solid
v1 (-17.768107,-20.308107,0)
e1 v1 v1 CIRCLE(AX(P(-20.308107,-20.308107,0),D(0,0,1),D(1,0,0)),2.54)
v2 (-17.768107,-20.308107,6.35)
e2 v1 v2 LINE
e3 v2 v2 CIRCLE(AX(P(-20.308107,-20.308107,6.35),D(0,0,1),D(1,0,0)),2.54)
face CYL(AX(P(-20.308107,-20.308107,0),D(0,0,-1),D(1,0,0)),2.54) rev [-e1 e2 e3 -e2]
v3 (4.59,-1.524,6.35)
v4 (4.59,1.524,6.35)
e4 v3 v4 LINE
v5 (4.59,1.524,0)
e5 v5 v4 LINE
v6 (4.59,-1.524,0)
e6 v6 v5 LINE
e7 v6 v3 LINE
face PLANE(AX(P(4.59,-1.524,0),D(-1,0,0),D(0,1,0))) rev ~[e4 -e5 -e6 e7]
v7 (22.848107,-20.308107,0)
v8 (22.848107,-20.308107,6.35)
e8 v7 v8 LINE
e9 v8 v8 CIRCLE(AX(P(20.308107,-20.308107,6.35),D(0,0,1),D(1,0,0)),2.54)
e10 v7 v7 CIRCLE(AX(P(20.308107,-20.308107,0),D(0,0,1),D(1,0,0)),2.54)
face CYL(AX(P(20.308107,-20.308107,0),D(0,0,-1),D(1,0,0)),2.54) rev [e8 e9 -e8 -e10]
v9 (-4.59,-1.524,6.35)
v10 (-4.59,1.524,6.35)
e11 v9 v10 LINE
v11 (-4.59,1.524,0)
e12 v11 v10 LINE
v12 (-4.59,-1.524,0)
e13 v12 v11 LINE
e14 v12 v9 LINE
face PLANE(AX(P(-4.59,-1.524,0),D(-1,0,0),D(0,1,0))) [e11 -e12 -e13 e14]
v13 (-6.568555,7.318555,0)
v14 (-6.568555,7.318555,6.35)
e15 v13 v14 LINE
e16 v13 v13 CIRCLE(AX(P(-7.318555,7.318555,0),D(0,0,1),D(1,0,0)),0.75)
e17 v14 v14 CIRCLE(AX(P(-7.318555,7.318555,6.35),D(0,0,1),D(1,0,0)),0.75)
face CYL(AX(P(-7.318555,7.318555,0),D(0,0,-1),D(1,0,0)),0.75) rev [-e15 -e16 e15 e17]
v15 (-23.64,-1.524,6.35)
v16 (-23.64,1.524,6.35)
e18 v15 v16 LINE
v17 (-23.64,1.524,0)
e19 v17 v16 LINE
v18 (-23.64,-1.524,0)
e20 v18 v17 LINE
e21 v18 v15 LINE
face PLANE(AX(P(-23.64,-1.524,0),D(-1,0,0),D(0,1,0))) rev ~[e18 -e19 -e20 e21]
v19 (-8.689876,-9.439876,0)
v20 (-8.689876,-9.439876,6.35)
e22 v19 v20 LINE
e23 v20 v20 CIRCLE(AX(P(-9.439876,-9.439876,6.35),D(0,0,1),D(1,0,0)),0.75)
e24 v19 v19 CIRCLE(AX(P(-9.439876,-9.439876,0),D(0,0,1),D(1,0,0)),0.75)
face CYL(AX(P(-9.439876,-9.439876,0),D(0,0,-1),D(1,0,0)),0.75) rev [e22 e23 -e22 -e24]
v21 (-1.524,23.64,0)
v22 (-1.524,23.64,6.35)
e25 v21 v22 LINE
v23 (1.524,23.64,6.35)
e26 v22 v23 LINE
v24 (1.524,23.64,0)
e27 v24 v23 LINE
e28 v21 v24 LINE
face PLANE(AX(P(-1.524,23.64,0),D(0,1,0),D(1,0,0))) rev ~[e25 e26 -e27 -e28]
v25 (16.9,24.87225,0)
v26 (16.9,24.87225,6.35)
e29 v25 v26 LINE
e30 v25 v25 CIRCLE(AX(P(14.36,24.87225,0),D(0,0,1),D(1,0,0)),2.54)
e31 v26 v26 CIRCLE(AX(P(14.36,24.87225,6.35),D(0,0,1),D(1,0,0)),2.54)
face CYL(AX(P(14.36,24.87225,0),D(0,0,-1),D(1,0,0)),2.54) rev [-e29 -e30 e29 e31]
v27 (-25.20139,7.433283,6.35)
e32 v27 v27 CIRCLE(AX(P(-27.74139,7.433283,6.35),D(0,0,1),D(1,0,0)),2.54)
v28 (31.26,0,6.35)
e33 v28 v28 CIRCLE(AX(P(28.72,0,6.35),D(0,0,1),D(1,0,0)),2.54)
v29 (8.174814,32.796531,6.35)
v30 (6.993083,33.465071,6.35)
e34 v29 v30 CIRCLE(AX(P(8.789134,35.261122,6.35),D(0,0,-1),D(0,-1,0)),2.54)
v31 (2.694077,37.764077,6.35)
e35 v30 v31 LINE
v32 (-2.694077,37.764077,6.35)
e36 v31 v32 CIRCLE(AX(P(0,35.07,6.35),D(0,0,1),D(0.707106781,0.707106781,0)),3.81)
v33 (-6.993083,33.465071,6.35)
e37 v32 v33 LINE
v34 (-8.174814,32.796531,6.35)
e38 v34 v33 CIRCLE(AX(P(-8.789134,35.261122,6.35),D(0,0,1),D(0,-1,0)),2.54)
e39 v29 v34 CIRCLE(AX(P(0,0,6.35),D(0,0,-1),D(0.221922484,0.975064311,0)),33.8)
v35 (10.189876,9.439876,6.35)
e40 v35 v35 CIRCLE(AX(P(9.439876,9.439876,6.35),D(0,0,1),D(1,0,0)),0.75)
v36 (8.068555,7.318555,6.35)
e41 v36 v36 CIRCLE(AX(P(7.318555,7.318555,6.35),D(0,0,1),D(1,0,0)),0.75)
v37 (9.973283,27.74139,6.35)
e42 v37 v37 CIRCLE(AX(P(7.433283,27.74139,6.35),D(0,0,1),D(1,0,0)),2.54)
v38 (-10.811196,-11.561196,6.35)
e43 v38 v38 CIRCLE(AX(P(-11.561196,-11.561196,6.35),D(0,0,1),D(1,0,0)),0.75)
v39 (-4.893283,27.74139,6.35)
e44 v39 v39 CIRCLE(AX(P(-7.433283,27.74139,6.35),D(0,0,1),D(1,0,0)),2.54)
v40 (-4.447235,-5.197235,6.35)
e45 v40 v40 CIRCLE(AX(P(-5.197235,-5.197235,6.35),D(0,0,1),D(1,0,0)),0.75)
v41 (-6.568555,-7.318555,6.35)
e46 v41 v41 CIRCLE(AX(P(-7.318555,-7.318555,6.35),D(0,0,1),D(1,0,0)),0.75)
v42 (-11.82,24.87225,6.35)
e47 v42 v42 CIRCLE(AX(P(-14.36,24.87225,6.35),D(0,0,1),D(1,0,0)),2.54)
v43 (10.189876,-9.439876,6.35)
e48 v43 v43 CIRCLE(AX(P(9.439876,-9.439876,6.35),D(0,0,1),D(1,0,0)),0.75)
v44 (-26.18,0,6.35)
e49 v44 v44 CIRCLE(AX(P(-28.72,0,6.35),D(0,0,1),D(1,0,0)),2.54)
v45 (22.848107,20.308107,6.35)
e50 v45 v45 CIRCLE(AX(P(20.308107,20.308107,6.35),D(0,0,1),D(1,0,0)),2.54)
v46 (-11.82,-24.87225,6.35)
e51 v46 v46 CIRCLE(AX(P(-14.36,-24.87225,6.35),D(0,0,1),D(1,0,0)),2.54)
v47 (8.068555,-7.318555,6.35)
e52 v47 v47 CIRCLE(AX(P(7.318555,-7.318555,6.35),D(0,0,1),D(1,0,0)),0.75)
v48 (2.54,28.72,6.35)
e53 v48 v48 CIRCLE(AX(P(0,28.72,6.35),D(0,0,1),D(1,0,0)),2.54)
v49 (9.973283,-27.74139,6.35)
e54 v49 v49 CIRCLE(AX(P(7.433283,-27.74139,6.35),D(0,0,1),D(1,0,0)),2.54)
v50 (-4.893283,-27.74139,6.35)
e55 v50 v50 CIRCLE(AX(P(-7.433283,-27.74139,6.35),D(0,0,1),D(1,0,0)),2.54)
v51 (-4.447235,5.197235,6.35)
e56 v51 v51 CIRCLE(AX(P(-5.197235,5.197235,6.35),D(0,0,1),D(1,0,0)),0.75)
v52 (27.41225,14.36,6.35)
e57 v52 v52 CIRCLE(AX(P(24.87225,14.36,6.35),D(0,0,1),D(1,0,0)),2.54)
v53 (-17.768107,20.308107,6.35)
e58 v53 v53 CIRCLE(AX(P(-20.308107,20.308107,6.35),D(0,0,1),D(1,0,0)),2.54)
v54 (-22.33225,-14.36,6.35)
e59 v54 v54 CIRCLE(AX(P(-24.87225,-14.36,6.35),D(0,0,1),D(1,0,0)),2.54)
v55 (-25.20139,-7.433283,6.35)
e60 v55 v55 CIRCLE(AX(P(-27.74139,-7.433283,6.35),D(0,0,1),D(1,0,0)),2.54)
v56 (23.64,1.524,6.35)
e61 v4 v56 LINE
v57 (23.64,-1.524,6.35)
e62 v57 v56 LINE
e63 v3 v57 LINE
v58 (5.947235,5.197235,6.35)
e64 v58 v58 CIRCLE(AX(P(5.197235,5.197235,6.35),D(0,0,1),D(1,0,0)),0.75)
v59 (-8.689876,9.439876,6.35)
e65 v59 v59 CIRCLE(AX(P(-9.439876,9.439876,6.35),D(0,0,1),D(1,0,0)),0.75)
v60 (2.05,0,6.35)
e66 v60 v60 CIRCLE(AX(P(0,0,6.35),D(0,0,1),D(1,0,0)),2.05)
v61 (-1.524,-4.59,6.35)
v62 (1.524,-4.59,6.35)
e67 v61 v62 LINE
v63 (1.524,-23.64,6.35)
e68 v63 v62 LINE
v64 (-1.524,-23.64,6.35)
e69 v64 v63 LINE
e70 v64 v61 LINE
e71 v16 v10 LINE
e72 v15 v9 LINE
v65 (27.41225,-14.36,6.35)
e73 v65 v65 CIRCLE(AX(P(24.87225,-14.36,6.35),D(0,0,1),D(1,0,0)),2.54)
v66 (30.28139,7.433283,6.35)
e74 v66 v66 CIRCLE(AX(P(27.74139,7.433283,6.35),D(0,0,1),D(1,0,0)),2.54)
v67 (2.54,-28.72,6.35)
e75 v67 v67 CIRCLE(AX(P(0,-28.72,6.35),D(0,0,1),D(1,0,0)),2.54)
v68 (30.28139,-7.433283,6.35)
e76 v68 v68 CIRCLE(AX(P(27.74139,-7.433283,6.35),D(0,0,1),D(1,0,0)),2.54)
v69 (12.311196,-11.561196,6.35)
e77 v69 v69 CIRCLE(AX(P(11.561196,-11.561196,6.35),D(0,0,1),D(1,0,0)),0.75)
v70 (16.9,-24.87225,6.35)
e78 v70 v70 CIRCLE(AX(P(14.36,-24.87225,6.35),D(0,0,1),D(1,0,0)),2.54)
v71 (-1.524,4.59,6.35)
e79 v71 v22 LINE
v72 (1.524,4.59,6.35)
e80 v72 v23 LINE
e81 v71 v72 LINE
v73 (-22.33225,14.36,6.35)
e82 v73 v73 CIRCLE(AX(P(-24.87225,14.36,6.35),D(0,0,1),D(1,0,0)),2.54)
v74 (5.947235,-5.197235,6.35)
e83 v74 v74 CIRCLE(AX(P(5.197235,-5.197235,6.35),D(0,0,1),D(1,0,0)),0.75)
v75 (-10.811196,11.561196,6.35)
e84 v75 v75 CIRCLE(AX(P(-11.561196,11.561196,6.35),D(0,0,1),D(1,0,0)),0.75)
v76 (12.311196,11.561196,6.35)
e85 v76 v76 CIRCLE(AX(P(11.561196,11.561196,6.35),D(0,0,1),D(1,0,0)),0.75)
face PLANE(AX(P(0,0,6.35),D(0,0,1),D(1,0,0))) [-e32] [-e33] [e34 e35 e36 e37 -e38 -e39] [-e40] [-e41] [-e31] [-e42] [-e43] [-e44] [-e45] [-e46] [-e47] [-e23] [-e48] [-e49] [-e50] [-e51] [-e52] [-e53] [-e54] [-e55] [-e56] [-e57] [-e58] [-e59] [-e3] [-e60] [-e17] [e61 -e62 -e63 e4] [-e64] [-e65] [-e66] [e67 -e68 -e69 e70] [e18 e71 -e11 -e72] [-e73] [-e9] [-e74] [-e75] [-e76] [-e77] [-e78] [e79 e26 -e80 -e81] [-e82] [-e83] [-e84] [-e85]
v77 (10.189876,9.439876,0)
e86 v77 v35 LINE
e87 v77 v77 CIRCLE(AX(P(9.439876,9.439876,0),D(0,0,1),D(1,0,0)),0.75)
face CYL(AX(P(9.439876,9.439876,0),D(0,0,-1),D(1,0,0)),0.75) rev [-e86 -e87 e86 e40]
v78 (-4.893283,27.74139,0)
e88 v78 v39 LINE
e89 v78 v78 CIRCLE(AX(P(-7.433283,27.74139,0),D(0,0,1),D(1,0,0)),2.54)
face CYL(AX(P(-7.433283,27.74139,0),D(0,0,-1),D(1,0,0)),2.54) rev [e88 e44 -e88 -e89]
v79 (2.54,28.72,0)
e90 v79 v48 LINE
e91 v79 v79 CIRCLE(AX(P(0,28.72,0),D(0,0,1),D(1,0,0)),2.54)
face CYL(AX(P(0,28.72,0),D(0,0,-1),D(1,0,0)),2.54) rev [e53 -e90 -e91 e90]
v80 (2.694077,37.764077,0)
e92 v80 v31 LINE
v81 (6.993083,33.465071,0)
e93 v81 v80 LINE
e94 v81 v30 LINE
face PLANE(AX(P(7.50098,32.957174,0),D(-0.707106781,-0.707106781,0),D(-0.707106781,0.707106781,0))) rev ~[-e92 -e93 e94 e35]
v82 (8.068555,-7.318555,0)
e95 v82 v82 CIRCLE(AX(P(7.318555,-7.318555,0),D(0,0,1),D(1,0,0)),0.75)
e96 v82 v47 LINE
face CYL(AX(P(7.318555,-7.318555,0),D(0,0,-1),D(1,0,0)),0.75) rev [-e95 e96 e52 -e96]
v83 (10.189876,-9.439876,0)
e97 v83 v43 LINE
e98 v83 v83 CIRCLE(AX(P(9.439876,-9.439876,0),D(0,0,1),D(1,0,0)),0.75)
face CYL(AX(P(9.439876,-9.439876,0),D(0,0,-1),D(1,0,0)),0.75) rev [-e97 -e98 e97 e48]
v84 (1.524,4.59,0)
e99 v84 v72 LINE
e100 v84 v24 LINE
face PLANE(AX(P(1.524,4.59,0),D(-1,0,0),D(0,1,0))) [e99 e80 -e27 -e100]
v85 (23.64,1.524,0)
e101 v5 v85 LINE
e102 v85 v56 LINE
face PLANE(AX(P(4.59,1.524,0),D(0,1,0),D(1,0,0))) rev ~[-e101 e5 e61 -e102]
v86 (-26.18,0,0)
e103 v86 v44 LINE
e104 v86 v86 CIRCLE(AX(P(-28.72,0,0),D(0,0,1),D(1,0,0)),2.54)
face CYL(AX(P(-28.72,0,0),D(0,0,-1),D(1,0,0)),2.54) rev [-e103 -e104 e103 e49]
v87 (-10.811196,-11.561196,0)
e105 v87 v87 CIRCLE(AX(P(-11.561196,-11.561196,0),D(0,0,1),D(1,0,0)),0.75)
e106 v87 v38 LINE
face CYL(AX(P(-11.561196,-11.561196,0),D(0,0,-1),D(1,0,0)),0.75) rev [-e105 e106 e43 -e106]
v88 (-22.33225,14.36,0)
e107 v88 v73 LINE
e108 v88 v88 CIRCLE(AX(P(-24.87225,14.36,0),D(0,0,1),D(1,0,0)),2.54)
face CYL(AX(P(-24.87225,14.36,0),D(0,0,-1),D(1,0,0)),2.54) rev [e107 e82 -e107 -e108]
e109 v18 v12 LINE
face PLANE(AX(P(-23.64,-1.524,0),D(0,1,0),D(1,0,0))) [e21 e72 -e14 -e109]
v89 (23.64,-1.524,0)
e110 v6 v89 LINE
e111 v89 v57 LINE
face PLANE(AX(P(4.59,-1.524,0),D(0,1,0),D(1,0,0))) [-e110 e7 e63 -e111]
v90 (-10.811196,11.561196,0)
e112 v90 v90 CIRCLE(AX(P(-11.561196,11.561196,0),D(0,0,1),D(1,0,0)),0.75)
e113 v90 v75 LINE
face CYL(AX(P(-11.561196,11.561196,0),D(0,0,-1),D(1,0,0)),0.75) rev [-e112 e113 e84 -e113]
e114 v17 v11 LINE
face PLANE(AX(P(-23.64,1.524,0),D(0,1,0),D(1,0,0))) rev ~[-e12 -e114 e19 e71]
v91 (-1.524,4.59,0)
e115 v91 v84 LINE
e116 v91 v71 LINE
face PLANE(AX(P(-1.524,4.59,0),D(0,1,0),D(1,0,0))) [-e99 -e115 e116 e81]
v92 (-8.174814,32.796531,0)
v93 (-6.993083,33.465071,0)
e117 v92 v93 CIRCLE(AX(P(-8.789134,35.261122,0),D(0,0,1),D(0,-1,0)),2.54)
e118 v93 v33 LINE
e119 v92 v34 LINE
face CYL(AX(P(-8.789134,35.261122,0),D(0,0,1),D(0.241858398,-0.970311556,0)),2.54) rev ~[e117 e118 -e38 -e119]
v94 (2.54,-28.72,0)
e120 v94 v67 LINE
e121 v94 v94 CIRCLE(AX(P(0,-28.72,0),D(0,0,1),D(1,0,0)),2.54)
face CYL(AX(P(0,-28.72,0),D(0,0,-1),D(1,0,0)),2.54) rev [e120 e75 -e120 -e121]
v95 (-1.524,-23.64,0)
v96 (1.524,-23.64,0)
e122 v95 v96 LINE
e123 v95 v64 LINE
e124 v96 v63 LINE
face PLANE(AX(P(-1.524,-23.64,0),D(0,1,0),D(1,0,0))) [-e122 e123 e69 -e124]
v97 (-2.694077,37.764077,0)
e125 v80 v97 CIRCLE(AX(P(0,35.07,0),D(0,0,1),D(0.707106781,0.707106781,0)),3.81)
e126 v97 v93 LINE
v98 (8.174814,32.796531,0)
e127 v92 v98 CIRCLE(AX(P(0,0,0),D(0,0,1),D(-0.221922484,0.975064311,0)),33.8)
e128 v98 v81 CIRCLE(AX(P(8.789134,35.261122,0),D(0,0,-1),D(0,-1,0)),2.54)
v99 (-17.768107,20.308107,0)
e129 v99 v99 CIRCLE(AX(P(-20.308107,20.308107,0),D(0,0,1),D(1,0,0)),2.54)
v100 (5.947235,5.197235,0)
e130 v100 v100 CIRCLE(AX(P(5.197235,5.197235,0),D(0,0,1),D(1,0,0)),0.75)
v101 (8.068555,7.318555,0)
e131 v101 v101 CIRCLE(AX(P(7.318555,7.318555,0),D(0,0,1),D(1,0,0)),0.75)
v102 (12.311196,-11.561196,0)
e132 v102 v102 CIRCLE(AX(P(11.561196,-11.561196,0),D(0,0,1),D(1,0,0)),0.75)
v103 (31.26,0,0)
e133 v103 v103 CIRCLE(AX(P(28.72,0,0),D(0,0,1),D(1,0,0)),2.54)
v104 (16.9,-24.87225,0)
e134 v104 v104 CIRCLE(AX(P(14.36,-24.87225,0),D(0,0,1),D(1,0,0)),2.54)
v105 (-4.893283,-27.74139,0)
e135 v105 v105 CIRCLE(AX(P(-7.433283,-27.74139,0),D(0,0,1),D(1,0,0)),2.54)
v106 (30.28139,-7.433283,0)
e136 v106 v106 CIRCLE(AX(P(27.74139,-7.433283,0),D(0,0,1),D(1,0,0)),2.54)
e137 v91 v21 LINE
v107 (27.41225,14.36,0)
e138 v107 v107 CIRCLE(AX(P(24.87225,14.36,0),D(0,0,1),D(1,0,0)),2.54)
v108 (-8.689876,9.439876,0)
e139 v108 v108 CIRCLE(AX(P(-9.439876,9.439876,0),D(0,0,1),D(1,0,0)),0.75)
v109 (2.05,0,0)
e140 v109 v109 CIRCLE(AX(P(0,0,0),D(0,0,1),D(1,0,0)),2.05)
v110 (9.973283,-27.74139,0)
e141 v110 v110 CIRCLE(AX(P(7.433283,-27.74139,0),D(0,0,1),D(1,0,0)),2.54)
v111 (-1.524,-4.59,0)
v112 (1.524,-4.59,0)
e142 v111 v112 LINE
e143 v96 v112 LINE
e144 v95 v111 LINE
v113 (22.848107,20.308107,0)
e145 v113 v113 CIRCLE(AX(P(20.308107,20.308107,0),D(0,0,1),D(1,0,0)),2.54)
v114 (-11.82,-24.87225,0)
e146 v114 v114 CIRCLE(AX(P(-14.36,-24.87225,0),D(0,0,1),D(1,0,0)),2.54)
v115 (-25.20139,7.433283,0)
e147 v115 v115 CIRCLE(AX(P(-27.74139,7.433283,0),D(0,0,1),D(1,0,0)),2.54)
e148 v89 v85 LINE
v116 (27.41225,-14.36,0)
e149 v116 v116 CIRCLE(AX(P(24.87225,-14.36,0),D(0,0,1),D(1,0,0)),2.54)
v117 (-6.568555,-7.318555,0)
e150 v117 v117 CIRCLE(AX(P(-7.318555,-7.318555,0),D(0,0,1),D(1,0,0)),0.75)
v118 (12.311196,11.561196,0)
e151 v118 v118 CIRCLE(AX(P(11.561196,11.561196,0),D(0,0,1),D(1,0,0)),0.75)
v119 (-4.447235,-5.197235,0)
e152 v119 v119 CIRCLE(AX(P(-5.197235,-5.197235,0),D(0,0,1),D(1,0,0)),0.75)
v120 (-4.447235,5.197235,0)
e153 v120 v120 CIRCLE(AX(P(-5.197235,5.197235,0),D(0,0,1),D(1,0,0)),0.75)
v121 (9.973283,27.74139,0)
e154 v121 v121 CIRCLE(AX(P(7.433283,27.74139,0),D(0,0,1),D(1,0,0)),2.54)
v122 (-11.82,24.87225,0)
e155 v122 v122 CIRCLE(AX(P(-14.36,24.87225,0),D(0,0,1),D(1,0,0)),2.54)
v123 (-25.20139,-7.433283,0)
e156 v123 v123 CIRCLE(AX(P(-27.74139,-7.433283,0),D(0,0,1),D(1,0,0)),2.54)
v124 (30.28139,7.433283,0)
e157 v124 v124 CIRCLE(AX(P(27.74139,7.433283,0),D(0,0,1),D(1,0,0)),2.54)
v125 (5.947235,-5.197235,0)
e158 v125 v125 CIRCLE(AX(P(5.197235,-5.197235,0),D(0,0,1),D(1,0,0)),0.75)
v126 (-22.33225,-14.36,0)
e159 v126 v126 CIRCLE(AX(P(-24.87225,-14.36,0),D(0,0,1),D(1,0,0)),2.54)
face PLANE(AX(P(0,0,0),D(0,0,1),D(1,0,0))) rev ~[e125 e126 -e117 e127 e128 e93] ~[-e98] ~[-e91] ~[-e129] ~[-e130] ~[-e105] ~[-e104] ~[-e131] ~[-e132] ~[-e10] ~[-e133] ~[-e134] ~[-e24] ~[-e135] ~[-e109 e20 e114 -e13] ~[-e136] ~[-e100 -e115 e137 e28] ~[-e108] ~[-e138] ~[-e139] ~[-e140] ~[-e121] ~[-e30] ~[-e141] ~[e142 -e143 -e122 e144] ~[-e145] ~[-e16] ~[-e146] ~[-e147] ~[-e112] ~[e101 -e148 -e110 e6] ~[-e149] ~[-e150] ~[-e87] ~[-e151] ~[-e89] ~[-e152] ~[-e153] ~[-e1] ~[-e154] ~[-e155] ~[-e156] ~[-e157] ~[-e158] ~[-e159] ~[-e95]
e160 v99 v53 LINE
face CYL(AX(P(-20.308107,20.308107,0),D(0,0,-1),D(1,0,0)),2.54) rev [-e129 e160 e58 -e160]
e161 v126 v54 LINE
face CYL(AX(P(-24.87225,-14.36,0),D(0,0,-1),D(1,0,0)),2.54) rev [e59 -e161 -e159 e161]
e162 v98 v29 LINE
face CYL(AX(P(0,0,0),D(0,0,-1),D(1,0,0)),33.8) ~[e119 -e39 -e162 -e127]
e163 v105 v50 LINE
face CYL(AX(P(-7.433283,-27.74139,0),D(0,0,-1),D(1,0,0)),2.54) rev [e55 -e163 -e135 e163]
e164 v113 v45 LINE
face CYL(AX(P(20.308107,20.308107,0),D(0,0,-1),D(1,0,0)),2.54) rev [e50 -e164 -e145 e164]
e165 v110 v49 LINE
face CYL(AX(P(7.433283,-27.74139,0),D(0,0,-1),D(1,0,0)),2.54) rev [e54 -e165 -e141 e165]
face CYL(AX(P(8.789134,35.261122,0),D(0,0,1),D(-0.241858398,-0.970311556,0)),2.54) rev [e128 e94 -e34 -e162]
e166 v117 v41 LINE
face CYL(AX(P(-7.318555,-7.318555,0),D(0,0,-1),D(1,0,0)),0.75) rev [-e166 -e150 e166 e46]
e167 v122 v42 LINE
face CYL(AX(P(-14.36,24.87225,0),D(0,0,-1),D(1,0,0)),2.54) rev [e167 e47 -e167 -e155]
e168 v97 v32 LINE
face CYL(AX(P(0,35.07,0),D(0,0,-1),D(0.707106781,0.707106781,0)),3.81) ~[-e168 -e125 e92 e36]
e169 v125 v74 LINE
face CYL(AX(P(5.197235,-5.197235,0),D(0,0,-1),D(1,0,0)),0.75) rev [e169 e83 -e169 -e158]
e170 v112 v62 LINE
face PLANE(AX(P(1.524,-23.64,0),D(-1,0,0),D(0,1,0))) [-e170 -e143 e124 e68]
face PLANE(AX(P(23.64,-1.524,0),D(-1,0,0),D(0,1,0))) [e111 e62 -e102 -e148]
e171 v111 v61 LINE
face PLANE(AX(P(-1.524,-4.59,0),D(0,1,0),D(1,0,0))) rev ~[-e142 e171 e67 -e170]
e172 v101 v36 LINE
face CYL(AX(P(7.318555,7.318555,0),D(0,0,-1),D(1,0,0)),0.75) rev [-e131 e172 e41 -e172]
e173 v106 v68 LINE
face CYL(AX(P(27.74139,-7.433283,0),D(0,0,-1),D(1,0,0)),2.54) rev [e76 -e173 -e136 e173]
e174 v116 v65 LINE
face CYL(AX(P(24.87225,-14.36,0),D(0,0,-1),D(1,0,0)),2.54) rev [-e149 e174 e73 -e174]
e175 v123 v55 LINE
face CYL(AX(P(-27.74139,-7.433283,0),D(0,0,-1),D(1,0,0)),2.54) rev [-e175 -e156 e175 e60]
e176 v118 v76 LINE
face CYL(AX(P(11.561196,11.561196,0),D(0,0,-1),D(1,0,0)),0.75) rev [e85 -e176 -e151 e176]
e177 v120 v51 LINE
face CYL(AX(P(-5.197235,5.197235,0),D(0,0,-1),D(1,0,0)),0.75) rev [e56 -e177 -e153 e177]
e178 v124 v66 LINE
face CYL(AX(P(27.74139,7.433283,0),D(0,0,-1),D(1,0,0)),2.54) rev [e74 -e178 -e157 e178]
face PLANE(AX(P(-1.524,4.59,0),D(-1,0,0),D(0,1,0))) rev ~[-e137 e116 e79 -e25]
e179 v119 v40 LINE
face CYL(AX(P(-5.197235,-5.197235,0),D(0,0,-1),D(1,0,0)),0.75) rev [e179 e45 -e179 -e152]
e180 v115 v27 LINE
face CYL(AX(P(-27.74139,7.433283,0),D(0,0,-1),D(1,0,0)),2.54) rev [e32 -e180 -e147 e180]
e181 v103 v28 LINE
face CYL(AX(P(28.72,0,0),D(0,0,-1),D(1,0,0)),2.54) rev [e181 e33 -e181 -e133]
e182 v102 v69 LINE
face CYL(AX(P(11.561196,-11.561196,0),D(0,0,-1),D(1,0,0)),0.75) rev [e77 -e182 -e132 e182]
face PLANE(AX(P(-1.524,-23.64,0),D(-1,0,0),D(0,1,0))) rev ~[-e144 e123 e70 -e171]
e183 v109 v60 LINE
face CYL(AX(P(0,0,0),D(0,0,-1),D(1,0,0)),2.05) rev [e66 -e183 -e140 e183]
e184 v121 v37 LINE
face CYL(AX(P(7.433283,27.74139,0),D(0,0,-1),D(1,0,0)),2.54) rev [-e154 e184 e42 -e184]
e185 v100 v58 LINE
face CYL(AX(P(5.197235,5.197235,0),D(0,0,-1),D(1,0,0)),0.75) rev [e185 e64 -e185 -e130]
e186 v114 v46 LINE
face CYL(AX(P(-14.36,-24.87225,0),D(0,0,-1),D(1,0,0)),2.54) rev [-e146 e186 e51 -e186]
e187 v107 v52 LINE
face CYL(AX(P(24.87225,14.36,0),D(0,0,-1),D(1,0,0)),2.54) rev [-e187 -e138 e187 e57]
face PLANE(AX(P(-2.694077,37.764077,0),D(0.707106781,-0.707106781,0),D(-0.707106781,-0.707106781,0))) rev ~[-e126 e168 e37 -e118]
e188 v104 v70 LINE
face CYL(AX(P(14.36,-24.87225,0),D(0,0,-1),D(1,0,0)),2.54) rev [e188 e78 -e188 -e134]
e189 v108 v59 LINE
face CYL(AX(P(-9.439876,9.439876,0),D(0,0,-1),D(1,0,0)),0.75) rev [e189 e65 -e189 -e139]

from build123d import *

# Parameters (mm, degrees)
SKETCH1_R           = 33.8
SKETCH1_R_2         = 2.54
SKETCH1_R_3         = 2.05
SKETCH1_R_4         = 0.75
SKETCH1_W           = 3.048
SKETCH1_H           = 19.05
SKETCH1_W_2         = 19.05
SKETCH1_H_2         = 3.048
BOSS_EXTRUDE1_DEPTH = 6.35
BOSS_EXTRUDE2_DEPTH = 6.35
FILLET1_R           = 2.54


with BuildPart() as part:
    # Sketch1 → Boss-Extrude1 (new body)
    with BuildSketch(Plane.XY):
        Circle(SKETCH1_R)
        with Locations((14.36, 24.872249597)):
            Circle(SKETCH1_R_2, mode=Mode.SUBTRACT)
        with Locations((20.308106756, 20.308106756)):
            Circle(SKETCH1_R_2, mode=Mode.SUBTRACT)
        with Locations((24.872249597, 14.36)):
            Circle(SKETCH1_R_2, mode=Mode.SUBTRACT)
        with Locations((27.741389731, 7.433282975)):
            Circle(SKETCH1_R_2, mode=Mode.SUBTRACT)
        with Locations((28.72, 0)):
            Circle(SKETCH1_R_2, mode=Mode.SUBTRACT)
        with Locations((27.741389731, -7.433282975)):
            Circle(SKETCH1_R_2, mode=Mode.SUBTRACT)
        with Locations((24.872249597, -14.36)):
            Circle(SKETCH1_R_2, mode=Mode.SUBTRACT)
        with Locations((20.308106756, -20.308106756)):
            Circle(SKETCH1_R_2, mode=Mode.SUBTRACT)
        with Locations((14.36, -24.872249597)):
            Circle(SKETCH1_R_2, mode=Mode.SUBTRACT)
        with Locations((7.433282975, -27.741389731)):
            Circle(SKETCH1_R_2, mode=Mode.SUBTRACT)
        with Locations((0, -28.72)):
            Circle(SKETCH1_R_2, mode=Mode.SUBTRACT)
        with Locations((-7.433282975, -27.741389731)):
            Circle(SKETCH1_R_2, mode=Mode.SUBTRACT)
        with Locations((-14.36, -24.872249597)):
            Circle(SKETCH1_R_2, mode=Mode.SUBTRACT)
        with Locations((-20.308106756, -20.308106756)):
            Circle(SKETCH1_R_2, mode=Mode.SUBTRACT)
        with Locations((-24.872249597, -14.36)):
            Circle(SKETCH1_R_2, mode=Mode.SUBTRACT)
        with Locations((-27.741389731, -7.433282975)):
            Circle(SKETCH1_R_2, mode=Mode.SUBTRACT)
        with Locations((-28.72, 0)):
            Circle(SKETCH1_R_2, mode=Mode.SUBTRACT)
        with Locations((-27.741389731, 7.433282975)):
            Circle(SKETCH1_R_2, mode=Mode.SUBTRACT)
        with Locations((-24.872249597, 14.36)):
            Circle(SKETCH1_R_2, mode=Mode.SUBTRACT)
        with Locations((-20.308106756, 20.308106756)):
            Circle(SKETCH1_R_2, mode=Mode.SUBTRACT)
        with Locations((-14.36, 24.872249597)):
            Circle(SKETCH1_R_2, mode=Mode.SUBTRACT)
        with Locations((-7.433282975, 27.741389731)):
            Circle(SKETCH1_R_2, mode=Mode.SUBTRACT)
        with Locations((0, 28.72)):
            Circle(SKETCH1_R_2, mode=Mode.SUBTRACT)
        with Locations((7.433282975, 27.741389731)):
            Circle(SKETCH1_R_2, mode=Mode.SUBTRACT)
        Circle(SKETCH1_R_3, mode=Mode.SUBTRACT)
        with Locations((11.561195872, 11.561195872)):
            Circle(SKETCH1_R_4, mode=Mode.SUBTRACT)
        with Locations((9.439875529, 9.439875529)):
            Circle(SKETCH1_R_4, mode=Mode.SUBTRACT)
        with Locations((7.318555185, 7.318555185)):
            Circle(SKETCH1_R_4, mode=Mode.SUBTRACT)
        with Locations((5.197234842, 5.197234842)):
            Circle(SKETCH1_R_4, mode=Mode.SUBTRACT)
        with Locations((11.561195872, -11.561195872)):
            Circle(SKETCH1_R_4, mode=Mode.SUBTRACT)
        with Locations((9.439875529, -9.439875529)):
            Circle(SKETCH1_R_4, mode=Mode.SUBTRACT)
        with Locations((7.318555185, -7.318555185)):
            Circle(SKETCH1_R_4, mode=Mode.SUBTRACT)
        with Locations((5.197234842, -5.197234842)):
            Circle(SKETCH1_R_4, mode=Mode.SUBTRACT)
        with Locations((-11.561195872, -11.561195872)):
            Circle(SKETCH1_R_4, mode=Mode.SUBTRACT)
        with Locations((-9.439875529, -9.439875529)):
            Circle(SKETCH1_R_4, mode=Mode.SUBTRACT)
        with Locations((-7.318555185, -7.318555185)):
            Circle(SKETCH1_R_4, mode=Mode.SUBTRACT)
        with Locations((-5.197234842, -5.197234842)):
            Circle(SKETCH1_R_4, mode=Mode.SUBTRACT)
        with Locations((-11.561195872, 11.561195872)):
            Circle(SKETCH1_R_4, mode=Mode.SUBTRACT)
        with Locations((-9.439875529, 9.439875529)):
            Circle(SKETCH1_R_4, mode=Mode.SUBTRACT)
        with Locations((-7.318555185, 7.318555185)):
            Circle(SKETCH1_R_4, mode=Mode.SUBTRACT)
        with Locations((-5.197234842, 5.197234842)):
            Circle(SKETCH1_R_4, mode=Mode.SUBTRACT)
        with Locations((0, 14.115)):
            Rectangle(SKETCH1_W, SKETCH1_H, mode=Mode.SUBTRACT)
        with Locations((14.115, 0)):
            Rectangle(SKETCH1_W_2, SKETCH1_H_2, mode=Mode.SUBTRACT)
        with Locations((0, -14.115)):
            Rectangle(SKETCH1_W, SKETCH1_H, mode=Mode.SUBTRACT)
        with Locations((-14.115, 0)):
            Rectangle(SKETCH1_W_2, SKETCH1_H_2, mode=Mode.SUBTRACT)
    extrude(amount=BOSS_EXTRUDE1_DEPTH)

    # Sketch3 → Boss-Extrude2 (add)
    with BuildSketch(Plane.XY):
        with BuildLine():
            Line((-2.694076836, 37.764076836), (-7.50097995, 32.957173723))
            ThreePointArc((-7.50097995, 32.957173723), (0, 33.8), (7.50097995, 32.957173723))
            Line((7.50097995, 32.957173723), (2.694076836, 37.764076836))
            ThreePointArc((2.694076836, 37.764076836), (0, 38.88), (-2.694076836, 37.764076836))
        make_face()
    extrude(amount=BOSS_EXTRUDE2_DEPTH)

    # Fillet1
    fillet1_edges = [part.edges().sort_by_distance(p)[0] for p in [
        (-7.50097995, 32.957173723, 3.175),
        (7.50097995, 32.957173723, 3.175),
    ]]
    fillet(fillet1_edges, radius=FILLET1_R)


solid = part.part
